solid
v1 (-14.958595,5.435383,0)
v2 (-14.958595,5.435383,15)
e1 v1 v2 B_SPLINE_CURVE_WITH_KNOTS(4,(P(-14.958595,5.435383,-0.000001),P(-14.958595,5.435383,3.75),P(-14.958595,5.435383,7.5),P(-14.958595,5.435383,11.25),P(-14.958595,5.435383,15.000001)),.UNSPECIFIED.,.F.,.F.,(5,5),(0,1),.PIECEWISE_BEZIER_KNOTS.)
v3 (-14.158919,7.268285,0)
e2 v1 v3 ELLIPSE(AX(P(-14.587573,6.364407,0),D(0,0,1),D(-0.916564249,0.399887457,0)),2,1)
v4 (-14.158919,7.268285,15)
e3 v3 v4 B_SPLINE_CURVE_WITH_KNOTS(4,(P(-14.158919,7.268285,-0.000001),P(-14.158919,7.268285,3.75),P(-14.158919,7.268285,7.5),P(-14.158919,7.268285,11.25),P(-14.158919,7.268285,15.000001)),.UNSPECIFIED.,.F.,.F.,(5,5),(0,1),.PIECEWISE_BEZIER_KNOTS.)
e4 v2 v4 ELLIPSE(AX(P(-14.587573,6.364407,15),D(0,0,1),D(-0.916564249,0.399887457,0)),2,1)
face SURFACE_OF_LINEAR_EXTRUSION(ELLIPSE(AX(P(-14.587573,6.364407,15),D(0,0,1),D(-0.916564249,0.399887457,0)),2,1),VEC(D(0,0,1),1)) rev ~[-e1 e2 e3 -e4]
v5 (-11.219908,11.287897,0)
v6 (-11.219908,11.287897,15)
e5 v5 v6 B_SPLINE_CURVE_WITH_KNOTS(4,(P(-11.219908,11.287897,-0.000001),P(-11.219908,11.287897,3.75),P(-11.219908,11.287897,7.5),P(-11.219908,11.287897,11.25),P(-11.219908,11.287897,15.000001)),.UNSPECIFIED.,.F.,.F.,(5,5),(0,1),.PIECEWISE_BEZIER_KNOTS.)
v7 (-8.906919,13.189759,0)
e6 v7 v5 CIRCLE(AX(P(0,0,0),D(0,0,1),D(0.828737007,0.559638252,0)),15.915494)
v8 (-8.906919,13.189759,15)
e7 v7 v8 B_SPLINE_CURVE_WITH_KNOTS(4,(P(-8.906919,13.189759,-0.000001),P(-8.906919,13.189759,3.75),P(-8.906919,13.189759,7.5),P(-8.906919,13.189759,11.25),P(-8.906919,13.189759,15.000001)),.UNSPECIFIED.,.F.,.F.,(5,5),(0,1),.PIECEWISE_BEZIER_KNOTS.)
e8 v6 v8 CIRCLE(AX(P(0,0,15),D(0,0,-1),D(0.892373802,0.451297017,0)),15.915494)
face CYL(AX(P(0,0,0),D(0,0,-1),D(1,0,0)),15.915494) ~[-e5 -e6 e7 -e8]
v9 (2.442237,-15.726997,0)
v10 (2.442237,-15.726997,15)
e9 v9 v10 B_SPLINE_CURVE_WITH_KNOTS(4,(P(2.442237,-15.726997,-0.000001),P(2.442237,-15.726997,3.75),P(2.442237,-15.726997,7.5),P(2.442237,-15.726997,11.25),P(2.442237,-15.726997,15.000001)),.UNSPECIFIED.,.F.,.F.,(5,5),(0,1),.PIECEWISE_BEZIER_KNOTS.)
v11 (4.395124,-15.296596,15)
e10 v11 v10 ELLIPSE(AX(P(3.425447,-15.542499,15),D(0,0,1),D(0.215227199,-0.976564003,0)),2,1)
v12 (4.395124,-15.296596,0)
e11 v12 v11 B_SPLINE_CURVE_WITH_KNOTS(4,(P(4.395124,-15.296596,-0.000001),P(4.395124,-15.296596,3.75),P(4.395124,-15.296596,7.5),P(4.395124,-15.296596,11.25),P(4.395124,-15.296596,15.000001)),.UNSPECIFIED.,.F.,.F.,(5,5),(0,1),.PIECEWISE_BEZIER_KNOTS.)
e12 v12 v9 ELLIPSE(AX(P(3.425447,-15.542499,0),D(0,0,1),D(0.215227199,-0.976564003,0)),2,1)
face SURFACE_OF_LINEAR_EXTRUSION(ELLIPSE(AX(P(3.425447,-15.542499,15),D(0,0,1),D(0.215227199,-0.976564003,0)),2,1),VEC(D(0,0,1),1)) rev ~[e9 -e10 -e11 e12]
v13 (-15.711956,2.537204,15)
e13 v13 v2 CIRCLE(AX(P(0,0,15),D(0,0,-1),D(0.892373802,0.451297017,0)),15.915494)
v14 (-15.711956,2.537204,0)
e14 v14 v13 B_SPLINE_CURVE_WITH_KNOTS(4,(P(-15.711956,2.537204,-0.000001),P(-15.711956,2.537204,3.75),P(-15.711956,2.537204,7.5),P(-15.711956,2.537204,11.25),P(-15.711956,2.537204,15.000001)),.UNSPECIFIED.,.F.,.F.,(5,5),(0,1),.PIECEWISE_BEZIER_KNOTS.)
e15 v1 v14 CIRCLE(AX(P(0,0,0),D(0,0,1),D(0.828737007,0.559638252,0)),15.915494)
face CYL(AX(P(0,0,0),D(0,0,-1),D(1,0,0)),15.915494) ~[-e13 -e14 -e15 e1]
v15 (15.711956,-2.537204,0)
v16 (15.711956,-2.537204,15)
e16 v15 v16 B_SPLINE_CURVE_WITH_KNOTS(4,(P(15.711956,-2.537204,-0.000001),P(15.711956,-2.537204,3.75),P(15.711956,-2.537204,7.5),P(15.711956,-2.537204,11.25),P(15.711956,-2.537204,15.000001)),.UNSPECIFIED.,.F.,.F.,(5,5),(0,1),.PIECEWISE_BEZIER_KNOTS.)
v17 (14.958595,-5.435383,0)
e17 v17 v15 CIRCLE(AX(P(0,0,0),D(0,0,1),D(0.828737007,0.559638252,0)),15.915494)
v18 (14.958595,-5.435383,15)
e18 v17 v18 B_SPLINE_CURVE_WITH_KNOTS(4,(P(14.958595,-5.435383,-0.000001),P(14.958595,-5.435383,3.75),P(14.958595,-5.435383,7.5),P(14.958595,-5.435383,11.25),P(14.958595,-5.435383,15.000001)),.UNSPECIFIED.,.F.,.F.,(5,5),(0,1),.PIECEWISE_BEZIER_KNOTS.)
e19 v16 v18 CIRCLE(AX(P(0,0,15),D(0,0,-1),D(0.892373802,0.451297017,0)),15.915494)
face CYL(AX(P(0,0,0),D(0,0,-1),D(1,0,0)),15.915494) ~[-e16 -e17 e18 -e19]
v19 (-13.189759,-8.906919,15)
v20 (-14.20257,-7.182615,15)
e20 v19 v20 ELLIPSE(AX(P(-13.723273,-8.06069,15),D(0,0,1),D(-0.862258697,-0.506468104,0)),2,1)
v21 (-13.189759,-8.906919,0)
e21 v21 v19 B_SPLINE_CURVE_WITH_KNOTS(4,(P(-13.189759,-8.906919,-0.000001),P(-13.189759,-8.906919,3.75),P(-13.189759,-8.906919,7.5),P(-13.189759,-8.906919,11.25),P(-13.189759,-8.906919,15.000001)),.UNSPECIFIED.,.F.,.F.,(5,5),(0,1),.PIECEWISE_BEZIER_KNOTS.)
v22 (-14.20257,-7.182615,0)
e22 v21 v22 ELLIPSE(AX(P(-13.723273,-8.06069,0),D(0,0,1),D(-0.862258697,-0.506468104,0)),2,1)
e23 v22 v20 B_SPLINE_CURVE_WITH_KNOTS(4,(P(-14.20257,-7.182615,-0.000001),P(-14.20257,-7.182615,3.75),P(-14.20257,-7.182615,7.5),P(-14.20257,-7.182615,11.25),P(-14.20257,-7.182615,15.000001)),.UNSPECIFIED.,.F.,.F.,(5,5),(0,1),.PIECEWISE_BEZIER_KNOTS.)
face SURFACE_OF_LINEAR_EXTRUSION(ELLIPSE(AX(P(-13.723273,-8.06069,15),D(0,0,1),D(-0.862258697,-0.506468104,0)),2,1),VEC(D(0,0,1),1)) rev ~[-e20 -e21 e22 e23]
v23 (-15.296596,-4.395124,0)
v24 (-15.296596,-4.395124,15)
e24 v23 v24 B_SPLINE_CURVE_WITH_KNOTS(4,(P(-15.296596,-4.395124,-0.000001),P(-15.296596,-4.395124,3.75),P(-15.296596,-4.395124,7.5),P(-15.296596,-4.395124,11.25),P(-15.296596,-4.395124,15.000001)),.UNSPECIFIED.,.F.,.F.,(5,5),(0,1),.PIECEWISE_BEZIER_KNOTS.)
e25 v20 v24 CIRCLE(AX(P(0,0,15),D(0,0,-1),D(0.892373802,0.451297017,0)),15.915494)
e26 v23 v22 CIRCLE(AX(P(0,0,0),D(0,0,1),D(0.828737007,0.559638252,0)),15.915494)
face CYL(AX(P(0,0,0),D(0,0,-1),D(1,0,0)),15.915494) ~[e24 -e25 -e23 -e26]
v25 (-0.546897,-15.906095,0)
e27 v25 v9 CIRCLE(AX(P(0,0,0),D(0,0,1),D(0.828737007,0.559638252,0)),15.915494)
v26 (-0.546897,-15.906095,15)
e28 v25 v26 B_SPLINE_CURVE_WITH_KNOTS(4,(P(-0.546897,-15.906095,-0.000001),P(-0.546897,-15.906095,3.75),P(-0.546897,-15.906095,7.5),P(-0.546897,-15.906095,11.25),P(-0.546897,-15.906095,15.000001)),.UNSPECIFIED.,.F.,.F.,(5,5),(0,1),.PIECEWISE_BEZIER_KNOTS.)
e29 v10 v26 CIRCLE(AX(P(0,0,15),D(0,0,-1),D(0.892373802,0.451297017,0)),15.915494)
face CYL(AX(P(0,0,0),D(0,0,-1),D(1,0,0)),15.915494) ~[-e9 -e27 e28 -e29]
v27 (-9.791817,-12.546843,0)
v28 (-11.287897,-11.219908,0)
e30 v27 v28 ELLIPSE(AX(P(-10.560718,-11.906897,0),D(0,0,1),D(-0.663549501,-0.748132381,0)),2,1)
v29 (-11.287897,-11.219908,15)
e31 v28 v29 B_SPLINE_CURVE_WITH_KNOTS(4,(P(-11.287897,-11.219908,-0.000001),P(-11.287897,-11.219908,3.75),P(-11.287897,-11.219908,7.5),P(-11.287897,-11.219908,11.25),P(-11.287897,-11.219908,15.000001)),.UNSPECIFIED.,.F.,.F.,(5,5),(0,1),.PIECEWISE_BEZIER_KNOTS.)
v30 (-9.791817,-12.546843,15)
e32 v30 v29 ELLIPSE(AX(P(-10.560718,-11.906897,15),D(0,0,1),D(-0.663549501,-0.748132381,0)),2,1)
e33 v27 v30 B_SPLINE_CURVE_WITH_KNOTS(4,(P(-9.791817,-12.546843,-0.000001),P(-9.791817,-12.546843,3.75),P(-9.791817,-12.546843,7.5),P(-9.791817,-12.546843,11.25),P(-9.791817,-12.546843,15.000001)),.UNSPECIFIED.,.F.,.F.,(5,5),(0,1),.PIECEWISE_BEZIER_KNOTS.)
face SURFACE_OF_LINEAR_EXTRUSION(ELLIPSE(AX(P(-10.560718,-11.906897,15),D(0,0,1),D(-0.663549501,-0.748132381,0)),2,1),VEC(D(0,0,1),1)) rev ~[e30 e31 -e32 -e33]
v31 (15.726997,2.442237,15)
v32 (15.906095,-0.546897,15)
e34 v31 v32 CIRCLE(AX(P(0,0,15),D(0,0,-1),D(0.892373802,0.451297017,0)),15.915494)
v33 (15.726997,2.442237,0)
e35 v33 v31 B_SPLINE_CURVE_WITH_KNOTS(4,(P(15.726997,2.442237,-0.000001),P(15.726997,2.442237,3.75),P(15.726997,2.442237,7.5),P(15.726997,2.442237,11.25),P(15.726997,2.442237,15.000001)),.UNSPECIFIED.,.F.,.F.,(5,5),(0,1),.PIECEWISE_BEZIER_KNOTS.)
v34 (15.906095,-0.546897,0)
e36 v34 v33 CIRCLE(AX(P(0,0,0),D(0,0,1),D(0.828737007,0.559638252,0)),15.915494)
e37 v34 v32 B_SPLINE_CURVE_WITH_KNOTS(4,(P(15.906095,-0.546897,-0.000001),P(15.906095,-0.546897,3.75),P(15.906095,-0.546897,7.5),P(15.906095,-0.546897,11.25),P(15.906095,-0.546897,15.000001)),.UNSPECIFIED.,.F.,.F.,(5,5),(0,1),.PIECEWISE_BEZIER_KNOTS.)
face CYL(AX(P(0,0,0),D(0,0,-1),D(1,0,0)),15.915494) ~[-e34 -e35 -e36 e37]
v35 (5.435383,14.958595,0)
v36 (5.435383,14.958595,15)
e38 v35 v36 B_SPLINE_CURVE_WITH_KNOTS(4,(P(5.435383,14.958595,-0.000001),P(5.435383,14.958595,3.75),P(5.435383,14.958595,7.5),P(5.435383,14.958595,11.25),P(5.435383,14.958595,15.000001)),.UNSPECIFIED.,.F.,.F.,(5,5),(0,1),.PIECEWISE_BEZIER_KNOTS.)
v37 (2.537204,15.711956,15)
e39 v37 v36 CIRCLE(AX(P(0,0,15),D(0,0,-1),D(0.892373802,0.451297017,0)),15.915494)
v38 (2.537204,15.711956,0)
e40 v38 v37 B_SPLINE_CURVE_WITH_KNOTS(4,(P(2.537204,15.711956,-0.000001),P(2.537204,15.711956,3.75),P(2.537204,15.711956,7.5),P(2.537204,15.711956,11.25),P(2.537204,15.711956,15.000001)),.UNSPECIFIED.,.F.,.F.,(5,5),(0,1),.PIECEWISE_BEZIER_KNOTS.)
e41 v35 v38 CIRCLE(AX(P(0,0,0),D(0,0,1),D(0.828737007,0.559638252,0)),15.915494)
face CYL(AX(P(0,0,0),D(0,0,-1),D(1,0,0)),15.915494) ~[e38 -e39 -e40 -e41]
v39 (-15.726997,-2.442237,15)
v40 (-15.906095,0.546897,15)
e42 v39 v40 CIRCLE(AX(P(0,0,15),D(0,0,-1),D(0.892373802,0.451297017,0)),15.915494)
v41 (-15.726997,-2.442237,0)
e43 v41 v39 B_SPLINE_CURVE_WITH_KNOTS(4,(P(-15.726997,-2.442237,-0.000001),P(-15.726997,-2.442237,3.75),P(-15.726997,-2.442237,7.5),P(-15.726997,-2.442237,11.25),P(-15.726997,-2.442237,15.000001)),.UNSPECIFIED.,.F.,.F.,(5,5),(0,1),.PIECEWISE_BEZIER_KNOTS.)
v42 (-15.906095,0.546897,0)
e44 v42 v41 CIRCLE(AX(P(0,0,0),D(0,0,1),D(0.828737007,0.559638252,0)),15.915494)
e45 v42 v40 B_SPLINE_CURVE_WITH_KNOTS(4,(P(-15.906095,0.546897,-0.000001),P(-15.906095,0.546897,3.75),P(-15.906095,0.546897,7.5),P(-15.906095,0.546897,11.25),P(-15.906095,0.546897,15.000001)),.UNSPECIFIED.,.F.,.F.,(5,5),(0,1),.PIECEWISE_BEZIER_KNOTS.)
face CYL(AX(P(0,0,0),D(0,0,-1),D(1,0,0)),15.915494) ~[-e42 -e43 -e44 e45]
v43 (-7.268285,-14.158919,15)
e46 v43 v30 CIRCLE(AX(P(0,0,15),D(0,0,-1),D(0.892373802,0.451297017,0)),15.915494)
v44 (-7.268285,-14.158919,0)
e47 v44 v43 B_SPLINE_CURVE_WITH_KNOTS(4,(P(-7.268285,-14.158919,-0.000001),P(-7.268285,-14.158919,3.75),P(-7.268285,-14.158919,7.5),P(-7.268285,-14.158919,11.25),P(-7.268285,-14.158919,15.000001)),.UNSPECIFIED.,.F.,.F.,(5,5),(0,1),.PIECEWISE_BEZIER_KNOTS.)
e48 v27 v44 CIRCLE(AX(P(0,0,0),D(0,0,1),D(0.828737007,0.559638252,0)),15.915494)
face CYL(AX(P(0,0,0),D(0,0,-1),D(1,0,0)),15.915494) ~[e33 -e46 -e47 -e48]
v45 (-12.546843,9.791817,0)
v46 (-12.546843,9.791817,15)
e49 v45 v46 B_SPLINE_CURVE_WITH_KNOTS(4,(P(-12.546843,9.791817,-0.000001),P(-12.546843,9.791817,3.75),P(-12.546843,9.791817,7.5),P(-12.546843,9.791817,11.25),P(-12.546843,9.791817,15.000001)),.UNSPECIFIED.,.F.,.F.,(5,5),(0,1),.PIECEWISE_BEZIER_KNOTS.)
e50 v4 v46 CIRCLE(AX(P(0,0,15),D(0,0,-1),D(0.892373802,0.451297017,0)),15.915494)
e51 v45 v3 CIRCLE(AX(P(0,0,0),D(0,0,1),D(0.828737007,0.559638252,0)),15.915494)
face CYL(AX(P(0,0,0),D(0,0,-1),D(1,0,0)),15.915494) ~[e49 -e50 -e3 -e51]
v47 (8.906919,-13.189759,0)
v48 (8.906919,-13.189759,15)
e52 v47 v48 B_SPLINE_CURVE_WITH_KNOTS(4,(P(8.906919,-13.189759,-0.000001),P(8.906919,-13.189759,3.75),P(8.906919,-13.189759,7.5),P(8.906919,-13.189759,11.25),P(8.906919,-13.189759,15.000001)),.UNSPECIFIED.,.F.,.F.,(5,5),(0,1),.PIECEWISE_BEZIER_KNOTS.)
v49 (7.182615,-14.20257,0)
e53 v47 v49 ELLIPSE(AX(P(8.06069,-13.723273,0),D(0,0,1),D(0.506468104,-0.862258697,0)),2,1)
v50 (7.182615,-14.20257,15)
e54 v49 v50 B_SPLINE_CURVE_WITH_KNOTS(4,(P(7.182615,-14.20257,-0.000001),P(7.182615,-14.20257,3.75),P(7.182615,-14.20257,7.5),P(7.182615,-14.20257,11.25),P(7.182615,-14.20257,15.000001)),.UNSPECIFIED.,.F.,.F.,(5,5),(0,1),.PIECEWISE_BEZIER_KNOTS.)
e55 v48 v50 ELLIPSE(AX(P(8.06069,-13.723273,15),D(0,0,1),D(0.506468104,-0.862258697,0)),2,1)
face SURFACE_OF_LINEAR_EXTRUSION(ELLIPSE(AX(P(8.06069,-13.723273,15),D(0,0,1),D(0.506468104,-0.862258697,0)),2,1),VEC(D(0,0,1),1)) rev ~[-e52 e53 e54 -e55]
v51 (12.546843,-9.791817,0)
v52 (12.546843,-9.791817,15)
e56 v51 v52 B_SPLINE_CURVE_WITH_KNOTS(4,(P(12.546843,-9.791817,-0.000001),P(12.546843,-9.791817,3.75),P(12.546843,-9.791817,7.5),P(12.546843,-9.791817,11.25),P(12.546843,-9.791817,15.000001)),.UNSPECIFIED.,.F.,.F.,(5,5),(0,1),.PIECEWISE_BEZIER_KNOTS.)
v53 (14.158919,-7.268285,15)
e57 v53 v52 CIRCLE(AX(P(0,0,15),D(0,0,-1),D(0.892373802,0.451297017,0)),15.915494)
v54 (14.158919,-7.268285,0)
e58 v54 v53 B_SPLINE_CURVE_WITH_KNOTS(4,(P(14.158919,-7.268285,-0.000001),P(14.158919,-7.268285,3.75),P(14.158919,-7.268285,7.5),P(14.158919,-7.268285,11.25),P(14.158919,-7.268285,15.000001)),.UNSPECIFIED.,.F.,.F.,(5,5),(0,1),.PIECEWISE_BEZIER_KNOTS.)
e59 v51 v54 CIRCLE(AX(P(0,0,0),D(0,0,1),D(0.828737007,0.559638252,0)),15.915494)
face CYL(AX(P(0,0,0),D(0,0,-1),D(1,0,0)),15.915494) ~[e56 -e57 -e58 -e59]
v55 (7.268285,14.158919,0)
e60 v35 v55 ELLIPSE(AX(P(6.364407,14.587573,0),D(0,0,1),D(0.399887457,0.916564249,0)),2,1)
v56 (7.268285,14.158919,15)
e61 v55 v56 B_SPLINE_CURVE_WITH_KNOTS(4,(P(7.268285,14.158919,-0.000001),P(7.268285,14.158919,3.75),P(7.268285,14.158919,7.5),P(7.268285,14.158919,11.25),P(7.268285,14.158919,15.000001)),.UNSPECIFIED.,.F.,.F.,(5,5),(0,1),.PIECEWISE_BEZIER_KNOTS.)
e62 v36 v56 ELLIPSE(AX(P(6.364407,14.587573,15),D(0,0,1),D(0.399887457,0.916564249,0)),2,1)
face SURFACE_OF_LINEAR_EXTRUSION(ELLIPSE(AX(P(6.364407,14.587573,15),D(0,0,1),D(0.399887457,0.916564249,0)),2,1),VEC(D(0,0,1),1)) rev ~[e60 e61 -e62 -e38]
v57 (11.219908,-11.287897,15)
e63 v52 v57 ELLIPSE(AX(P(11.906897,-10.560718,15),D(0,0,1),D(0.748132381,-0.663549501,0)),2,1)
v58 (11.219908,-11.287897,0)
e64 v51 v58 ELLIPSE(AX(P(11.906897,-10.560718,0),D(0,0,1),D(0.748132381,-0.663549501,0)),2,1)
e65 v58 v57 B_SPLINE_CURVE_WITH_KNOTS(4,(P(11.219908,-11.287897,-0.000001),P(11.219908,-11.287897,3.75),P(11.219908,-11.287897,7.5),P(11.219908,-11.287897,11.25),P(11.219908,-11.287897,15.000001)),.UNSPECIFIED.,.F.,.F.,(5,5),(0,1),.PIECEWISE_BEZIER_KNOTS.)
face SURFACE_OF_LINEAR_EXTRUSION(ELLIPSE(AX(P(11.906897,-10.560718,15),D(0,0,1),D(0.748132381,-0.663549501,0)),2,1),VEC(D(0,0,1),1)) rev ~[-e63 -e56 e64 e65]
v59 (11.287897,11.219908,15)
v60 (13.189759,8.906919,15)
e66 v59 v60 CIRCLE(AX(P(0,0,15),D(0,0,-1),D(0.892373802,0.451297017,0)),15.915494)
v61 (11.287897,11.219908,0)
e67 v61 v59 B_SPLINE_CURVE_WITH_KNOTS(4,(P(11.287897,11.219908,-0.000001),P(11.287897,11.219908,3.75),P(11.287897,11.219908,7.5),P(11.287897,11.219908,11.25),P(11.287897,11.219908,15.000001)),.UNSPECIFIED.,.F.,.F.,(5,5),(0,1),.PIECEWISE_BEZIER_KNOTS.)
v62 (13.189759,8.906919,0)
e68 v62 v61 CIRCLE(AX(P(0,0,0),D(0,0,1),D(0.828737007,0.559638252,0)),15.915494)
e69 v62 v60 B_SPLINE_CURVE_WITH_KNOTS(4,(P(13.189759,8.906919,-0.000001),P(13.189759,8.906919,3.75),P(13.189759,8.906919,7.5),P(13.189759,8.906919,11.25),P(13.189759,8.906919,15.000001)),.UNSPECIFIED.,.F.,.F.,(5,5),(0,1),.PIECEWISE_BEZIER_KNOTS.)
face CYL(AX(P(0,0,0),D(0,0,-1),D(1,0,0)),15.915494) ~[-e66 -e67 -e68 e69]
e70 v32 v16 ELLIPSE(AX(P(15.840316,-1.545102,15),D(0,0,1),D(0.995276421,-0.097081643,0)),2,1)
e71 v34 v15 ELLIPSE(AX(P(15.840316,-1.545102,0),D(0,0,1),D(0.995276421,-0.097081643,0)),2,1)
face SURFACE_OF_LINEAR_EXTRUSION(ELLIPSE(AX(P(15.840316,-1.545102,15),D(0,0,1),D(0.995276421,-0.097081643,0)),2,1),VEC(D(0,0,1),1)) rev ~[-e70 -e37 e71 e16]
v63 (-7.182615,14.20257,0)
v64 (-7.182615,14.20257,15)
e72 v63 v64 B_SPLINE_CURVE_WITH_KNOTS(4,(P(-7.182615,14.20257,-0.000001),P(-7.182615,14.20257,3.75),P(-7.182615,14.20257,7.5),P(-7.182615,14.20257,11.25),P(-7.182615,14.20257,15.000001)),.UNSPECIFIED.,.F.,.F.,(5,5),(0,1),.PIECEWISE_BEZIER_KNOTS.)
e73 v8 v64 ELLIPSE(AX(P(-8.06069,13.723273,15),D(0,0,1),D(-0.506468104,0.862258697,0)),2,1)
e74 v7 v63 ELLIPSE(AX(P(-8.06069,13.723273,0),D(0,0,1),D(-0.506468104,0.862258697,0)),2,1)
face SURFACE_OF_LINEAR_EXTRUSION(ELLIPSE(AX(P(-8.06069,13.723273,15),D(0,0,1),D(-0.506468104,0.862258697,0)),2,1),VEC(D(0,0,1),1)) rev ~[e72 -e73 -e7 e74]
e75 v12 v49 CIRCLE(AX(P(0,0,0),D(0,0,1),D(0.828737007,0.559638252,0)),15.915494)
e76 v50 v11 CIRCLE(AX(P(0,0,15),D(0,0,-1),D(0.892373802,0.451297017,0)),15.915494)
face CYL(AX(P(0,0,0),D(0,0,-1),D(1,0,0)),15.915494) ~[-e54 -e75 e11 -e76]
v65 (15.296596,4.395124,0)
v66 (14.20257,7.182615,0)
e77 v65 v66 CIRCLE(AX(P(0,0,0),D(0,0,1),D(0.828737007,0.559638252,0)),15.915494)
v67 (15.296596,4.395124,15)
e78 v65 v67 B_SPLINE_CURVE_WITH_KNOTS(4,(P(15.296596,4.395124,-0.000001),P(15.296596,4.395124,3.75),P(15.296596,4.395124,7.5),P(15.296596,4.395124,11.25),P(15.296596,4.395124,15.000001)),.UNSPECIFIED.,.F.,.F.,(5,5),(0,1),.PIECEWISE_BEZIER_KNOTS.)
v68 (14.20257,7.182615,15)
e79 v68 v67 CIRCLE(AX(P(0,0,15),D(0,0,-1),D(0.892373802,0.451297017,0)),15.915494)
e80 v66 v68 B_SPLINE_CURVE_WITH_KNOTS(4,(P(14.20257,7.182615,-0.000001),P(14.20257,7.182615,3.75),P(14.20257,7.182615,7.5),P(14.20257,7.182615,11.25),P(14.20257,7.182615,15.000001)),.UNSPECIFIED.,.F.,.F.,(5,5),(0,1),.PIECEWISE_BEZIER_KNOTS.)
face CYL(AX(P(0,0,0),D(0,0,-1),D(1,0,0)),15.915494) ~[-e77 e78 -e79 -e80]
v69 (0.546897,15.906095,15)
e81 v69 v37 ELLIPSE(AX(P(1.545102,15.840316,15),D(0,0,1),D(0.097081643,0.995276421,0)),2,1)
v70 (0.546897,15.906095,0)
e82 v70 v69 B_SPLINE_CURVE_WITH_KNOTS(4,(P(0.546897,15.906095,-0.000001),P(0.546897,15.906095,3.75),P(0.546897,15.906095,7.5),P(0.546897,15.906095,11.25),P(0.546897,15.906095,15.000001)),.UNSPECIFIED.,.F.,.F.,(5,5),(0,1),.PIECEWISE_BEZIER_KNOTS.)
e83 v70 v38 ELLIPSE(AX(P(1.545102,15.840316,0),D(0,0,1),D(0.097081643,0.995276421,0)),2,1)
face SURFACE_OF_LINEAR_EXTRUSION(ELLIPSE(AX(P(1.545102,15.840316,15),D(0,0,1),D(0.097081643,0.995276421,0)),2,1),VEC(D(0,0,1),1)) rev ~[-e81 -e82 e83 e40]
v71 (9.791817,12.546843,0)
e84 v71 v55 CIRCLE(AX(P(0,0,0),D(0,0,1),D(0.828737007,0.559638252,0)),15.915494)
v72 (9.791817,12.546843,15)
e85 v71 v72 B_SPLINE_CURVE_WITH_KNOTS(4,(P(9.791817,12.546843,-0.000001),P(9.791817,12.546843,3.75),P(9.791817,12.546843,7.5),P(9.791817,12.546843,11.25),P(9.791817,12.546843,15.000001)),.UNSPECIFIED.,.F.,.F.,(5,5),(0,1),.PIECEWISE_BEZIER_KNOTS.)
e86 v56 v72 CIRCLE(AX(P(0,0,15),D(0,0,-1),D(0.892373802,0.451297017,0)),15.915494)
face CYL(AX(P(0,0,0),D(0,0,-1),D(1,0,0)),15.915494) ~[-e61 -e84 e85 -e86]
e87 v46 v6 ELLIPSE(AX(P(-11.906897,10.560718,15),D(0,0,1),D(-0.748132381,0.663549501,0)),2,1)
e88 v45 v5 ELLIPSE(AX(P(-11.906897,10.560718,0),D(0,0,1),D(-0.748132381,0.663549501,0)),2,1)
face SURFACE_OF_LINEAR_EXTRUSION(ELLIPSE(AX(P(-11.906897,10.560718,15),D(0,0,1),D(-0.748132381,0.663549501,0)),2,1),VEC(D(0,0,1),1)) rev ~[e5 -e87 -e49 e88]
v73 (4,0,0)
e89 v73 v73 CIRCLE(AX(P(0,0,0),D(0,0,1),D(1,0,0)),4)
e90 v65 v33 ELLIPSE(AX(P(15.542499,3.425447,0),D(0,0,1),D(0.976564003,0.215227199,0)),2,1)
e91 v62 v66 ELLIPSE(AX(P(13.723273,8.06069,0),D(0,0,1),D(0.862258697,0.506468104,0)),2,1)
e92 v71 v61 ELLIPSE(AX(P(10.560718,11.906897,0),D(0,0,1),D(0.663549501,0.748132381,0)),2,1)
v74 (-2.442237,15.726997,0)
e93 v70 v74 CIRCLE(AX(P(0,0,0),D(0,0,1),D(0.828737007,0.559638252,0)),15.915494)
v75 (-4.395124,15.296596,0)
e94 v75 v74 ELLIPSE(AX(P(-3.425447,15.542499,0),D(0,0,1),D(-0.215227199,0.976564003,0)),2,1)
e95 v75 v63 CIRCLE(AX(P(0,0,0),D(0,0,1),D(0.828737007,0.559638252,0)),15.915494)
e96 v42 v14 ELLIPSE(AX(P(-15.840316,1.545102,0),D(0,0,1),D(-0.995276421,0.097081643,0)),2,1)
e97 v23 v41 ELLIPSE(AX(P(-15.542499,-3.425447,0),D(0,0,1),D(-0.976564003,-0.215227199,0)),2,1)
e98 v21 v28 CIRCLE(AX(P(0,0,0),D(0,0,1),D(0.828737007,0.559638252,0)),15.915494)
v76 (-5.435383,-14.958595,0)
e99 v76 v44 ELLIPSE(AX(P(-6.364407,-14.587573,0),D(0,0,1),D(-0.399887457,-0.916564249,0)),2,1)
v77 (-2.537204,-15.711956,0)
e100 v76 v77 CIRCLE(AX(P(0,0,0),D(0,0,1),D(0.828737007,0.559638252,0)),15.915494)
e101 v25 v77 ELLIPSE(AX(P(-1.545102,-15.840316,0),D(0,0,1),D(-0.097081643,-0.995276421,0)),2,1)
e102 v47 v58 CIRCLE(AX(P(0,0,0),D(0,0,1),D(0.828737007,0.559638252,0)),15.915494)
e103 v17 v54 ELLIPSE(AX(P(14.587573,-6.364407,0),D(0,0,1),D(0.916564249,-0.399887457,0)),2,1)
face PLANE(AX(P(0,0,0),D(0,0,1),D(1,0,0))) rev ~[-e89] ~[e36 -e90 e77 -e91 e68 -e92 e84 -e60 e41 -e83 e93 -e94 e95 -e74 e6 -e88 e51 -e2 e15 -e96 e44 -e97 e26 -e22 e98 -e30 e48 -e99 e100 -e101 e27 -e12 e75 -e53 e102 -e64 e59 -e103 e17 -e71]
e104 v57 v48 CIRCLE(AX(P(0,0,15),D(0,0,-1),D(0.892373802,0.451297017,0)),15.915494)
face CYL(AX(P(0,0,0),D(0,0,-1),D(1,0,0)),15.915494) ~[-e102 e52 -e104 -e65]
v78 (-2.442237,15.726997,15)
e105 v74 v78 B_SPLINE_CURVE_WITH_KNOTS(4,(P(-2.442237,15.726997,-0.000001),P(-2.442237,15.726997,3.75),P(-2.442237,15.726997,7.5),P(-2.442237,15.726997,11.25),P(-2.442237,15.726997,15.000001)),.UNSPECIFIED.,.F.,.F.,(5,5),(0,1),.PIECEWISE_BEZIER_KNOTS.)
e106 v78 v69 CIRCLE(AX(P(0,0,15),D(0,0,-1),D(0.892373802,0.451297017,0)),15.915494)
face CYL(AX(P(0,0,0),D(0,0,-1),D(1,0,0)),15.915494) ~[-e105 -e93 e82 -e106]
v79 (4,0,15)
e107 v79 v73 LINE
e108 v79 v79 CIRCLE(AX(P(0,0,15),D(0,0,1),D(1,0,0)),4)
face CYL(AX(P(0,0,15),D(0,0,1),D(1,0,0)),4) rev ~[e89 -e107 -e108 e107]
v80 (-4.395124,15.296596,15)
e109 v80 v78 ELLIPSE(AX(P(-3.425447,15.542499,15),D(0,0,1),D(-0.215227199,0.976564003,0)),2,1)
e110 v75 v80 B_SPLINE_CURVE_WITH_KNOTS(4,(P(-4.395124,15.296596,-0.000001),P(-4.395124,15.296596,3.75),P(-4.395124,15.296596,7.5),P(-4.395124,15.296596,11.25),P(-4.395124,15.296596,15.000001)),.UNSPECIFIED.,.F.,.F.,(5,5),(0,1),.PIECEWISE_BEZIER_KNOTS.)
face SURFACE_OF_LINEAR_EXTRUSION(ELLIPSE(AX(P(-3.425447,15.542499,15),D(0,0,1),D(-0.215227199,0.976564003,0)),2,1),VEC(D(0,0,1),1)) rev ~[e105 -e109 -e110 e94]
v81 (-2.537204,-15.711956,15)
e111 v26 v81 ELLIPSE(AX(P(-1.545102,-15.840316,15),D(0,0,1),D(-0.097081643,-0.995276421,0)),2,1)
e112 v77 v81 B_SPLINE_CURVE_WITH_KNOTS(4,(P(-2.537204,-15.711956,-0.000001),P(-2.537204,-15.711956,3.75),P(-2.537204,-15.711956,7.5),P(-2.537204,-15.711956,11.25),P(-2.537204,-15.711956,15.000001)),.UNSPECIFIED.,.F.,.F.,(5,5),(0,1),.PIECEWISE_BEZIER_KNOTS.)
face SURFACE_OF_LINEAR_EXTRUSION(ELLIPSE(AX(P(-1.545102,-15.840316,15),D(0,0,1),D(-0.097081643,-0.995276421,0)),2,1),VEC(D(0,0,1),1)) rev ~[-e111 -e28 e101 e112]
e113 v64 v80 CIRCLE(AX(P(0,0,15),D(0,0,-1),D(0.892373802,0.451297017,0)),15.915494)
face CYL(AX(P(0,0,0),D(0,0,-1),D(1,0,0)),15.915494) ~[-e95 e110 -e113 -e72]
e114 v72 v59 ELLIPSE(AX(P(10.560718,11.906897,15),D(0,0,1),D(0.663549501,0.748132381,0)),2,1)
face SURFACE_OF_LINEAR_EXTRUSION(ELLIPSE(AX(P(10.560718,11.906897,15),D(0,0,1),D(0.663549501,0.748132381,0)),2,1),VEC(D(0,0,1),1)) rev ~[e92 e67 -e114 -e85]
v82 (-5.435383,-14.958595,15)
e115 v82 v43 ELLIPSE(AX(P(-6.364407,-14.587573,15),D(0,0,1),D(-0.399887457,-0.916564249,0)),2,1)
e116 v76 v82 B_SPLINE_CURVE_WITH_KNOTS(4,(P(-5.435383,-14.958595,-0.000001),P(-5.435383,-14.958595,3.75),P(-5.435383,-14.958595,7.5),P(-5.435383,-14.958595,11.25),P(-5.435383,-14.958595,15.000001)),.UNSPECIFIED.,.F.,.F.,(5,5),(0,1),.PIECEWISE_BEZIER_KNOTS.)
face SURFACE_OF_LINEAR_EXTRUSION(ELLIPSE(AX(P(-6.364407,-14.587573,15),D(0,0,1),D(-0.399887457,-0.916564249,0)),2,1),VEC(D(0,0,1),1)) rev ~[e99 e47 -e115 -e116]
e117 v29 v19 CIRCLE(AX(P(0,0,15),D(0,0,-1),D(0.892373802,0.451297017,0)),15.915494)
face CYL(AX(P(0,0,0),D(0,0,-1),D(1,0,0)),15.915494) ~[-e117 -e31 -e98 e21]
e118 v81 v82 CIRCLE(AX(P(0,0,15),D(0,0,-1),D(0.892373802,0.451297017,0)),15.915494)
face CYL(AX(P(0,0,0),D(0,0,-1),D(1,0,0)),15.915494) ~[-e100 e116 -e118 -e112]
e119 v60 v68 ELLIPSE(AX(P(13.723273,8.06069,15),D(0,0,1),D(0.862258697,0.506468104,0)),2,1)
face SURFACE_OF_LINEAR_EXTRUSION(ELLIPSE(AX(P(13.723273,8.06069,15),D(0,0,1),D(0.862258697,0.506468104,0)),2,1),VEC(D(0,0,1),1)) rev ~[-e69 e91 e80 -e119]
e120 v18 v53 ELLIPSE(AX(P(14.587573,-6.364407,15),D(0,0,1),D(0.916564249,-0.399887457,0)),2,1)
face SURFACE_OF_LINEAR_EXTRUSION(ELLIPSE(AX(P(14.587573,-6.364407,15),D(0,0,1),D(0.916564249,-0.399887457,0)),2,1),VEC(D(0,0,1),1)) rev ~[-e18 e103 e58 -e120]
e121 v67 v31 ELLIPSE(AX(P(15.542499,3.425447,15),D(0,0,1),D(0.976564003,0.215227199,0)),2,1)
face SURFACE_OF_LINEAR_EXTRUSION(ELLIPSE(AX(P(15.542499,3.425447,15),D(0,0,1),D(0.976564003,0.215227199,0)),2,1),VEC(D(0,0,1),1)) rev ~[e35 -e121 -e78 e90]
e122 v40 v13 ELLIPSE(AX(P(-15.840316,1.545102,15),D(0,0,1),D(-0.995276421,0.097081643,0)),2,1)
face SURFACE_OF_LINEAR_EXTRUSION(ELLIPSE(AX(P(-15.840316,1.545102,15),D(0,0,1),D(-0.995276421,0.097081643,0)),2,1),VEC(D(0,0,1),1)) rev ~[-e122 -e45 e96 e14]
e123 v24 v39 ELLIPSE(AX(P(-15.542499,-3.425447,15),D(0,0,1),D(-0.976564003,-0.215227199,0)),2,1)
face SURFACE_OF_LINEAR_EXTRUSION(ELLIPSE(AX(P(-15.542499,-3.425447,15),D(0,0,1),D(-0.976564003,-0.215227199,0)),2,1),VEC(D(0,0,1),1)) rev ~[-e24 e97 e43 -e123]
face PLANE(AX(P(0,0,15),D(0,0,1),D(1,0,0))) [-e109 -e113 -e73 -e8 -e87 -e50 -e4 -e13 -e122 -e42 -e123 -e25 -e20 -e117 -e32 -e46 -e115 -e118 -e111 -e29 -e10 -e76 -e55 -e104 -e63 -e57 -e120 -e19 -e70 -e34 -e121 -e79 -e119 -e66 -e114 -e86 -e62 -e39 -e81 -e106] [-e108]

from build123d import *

# Parameters (mm, degrees)
SKETCH_1_R               = 15.91549431
EXTRUDE_2_DEPTH          = 15
SKETCH_2_R               = 4
CUT_EXTRUDE_1_DEPTH      = 15
SKETCH_3_RX              = 2
SKETCH_3_RY              = 1
CUT_EXTRUDE_2_DEPTH      = 15
PATTERN_CIRCULAR_1_COUNT = 20


with BuildPart() as part:
    # Эскиз1 → Бобышка-Вытянуть2 (new body)
    with BuildSketch(Plane.XY):
        Circle(SKETCH_1_R)
    extrude(amount=EXTRUDE_2_DEPTH)

    # Эскиз2 → Вырез-Вытянуть1 (cut)
    with BuildSketch(Plane.XY.offset(15)):
        Circle(SKETCH_2_R)
    extrude(amount=-CUT_EXTRUDE_1_DEPTH, mode=Mode.SUBTRACT)

    # Эскиз3 → Вырез-Вытянуть2 (cut)
    with BuildSketch(Plane.XY.offset(15)):
        with Locations(Location((13.72327338, 8.060690222), (0, 0, 30.428856936))):
            Ellipse(SKETCH_3_RX, SKETCH_3_RY)
    cut_extrude_2 = extrude(amount=-CUT_EXTRUDE_2_DEPTH, mode=Mode.SUBTRACT)

    # Круговой массив1: Вырез-Вытянуть2 ×20 about axis
    pattern_circular_1_axis = Axis((0, 0, 15), (0, 0, 1))
    for i in range(1, PATTERN_CIRCULAR_1_COUNT):
        add(cut_extrude_2.rotate(pattern_circular_1_axis, i * 360 / PATTERN_CIRCULAR_1_COUNT), mode=Mode.SUBTRACT)


solid = part.part
